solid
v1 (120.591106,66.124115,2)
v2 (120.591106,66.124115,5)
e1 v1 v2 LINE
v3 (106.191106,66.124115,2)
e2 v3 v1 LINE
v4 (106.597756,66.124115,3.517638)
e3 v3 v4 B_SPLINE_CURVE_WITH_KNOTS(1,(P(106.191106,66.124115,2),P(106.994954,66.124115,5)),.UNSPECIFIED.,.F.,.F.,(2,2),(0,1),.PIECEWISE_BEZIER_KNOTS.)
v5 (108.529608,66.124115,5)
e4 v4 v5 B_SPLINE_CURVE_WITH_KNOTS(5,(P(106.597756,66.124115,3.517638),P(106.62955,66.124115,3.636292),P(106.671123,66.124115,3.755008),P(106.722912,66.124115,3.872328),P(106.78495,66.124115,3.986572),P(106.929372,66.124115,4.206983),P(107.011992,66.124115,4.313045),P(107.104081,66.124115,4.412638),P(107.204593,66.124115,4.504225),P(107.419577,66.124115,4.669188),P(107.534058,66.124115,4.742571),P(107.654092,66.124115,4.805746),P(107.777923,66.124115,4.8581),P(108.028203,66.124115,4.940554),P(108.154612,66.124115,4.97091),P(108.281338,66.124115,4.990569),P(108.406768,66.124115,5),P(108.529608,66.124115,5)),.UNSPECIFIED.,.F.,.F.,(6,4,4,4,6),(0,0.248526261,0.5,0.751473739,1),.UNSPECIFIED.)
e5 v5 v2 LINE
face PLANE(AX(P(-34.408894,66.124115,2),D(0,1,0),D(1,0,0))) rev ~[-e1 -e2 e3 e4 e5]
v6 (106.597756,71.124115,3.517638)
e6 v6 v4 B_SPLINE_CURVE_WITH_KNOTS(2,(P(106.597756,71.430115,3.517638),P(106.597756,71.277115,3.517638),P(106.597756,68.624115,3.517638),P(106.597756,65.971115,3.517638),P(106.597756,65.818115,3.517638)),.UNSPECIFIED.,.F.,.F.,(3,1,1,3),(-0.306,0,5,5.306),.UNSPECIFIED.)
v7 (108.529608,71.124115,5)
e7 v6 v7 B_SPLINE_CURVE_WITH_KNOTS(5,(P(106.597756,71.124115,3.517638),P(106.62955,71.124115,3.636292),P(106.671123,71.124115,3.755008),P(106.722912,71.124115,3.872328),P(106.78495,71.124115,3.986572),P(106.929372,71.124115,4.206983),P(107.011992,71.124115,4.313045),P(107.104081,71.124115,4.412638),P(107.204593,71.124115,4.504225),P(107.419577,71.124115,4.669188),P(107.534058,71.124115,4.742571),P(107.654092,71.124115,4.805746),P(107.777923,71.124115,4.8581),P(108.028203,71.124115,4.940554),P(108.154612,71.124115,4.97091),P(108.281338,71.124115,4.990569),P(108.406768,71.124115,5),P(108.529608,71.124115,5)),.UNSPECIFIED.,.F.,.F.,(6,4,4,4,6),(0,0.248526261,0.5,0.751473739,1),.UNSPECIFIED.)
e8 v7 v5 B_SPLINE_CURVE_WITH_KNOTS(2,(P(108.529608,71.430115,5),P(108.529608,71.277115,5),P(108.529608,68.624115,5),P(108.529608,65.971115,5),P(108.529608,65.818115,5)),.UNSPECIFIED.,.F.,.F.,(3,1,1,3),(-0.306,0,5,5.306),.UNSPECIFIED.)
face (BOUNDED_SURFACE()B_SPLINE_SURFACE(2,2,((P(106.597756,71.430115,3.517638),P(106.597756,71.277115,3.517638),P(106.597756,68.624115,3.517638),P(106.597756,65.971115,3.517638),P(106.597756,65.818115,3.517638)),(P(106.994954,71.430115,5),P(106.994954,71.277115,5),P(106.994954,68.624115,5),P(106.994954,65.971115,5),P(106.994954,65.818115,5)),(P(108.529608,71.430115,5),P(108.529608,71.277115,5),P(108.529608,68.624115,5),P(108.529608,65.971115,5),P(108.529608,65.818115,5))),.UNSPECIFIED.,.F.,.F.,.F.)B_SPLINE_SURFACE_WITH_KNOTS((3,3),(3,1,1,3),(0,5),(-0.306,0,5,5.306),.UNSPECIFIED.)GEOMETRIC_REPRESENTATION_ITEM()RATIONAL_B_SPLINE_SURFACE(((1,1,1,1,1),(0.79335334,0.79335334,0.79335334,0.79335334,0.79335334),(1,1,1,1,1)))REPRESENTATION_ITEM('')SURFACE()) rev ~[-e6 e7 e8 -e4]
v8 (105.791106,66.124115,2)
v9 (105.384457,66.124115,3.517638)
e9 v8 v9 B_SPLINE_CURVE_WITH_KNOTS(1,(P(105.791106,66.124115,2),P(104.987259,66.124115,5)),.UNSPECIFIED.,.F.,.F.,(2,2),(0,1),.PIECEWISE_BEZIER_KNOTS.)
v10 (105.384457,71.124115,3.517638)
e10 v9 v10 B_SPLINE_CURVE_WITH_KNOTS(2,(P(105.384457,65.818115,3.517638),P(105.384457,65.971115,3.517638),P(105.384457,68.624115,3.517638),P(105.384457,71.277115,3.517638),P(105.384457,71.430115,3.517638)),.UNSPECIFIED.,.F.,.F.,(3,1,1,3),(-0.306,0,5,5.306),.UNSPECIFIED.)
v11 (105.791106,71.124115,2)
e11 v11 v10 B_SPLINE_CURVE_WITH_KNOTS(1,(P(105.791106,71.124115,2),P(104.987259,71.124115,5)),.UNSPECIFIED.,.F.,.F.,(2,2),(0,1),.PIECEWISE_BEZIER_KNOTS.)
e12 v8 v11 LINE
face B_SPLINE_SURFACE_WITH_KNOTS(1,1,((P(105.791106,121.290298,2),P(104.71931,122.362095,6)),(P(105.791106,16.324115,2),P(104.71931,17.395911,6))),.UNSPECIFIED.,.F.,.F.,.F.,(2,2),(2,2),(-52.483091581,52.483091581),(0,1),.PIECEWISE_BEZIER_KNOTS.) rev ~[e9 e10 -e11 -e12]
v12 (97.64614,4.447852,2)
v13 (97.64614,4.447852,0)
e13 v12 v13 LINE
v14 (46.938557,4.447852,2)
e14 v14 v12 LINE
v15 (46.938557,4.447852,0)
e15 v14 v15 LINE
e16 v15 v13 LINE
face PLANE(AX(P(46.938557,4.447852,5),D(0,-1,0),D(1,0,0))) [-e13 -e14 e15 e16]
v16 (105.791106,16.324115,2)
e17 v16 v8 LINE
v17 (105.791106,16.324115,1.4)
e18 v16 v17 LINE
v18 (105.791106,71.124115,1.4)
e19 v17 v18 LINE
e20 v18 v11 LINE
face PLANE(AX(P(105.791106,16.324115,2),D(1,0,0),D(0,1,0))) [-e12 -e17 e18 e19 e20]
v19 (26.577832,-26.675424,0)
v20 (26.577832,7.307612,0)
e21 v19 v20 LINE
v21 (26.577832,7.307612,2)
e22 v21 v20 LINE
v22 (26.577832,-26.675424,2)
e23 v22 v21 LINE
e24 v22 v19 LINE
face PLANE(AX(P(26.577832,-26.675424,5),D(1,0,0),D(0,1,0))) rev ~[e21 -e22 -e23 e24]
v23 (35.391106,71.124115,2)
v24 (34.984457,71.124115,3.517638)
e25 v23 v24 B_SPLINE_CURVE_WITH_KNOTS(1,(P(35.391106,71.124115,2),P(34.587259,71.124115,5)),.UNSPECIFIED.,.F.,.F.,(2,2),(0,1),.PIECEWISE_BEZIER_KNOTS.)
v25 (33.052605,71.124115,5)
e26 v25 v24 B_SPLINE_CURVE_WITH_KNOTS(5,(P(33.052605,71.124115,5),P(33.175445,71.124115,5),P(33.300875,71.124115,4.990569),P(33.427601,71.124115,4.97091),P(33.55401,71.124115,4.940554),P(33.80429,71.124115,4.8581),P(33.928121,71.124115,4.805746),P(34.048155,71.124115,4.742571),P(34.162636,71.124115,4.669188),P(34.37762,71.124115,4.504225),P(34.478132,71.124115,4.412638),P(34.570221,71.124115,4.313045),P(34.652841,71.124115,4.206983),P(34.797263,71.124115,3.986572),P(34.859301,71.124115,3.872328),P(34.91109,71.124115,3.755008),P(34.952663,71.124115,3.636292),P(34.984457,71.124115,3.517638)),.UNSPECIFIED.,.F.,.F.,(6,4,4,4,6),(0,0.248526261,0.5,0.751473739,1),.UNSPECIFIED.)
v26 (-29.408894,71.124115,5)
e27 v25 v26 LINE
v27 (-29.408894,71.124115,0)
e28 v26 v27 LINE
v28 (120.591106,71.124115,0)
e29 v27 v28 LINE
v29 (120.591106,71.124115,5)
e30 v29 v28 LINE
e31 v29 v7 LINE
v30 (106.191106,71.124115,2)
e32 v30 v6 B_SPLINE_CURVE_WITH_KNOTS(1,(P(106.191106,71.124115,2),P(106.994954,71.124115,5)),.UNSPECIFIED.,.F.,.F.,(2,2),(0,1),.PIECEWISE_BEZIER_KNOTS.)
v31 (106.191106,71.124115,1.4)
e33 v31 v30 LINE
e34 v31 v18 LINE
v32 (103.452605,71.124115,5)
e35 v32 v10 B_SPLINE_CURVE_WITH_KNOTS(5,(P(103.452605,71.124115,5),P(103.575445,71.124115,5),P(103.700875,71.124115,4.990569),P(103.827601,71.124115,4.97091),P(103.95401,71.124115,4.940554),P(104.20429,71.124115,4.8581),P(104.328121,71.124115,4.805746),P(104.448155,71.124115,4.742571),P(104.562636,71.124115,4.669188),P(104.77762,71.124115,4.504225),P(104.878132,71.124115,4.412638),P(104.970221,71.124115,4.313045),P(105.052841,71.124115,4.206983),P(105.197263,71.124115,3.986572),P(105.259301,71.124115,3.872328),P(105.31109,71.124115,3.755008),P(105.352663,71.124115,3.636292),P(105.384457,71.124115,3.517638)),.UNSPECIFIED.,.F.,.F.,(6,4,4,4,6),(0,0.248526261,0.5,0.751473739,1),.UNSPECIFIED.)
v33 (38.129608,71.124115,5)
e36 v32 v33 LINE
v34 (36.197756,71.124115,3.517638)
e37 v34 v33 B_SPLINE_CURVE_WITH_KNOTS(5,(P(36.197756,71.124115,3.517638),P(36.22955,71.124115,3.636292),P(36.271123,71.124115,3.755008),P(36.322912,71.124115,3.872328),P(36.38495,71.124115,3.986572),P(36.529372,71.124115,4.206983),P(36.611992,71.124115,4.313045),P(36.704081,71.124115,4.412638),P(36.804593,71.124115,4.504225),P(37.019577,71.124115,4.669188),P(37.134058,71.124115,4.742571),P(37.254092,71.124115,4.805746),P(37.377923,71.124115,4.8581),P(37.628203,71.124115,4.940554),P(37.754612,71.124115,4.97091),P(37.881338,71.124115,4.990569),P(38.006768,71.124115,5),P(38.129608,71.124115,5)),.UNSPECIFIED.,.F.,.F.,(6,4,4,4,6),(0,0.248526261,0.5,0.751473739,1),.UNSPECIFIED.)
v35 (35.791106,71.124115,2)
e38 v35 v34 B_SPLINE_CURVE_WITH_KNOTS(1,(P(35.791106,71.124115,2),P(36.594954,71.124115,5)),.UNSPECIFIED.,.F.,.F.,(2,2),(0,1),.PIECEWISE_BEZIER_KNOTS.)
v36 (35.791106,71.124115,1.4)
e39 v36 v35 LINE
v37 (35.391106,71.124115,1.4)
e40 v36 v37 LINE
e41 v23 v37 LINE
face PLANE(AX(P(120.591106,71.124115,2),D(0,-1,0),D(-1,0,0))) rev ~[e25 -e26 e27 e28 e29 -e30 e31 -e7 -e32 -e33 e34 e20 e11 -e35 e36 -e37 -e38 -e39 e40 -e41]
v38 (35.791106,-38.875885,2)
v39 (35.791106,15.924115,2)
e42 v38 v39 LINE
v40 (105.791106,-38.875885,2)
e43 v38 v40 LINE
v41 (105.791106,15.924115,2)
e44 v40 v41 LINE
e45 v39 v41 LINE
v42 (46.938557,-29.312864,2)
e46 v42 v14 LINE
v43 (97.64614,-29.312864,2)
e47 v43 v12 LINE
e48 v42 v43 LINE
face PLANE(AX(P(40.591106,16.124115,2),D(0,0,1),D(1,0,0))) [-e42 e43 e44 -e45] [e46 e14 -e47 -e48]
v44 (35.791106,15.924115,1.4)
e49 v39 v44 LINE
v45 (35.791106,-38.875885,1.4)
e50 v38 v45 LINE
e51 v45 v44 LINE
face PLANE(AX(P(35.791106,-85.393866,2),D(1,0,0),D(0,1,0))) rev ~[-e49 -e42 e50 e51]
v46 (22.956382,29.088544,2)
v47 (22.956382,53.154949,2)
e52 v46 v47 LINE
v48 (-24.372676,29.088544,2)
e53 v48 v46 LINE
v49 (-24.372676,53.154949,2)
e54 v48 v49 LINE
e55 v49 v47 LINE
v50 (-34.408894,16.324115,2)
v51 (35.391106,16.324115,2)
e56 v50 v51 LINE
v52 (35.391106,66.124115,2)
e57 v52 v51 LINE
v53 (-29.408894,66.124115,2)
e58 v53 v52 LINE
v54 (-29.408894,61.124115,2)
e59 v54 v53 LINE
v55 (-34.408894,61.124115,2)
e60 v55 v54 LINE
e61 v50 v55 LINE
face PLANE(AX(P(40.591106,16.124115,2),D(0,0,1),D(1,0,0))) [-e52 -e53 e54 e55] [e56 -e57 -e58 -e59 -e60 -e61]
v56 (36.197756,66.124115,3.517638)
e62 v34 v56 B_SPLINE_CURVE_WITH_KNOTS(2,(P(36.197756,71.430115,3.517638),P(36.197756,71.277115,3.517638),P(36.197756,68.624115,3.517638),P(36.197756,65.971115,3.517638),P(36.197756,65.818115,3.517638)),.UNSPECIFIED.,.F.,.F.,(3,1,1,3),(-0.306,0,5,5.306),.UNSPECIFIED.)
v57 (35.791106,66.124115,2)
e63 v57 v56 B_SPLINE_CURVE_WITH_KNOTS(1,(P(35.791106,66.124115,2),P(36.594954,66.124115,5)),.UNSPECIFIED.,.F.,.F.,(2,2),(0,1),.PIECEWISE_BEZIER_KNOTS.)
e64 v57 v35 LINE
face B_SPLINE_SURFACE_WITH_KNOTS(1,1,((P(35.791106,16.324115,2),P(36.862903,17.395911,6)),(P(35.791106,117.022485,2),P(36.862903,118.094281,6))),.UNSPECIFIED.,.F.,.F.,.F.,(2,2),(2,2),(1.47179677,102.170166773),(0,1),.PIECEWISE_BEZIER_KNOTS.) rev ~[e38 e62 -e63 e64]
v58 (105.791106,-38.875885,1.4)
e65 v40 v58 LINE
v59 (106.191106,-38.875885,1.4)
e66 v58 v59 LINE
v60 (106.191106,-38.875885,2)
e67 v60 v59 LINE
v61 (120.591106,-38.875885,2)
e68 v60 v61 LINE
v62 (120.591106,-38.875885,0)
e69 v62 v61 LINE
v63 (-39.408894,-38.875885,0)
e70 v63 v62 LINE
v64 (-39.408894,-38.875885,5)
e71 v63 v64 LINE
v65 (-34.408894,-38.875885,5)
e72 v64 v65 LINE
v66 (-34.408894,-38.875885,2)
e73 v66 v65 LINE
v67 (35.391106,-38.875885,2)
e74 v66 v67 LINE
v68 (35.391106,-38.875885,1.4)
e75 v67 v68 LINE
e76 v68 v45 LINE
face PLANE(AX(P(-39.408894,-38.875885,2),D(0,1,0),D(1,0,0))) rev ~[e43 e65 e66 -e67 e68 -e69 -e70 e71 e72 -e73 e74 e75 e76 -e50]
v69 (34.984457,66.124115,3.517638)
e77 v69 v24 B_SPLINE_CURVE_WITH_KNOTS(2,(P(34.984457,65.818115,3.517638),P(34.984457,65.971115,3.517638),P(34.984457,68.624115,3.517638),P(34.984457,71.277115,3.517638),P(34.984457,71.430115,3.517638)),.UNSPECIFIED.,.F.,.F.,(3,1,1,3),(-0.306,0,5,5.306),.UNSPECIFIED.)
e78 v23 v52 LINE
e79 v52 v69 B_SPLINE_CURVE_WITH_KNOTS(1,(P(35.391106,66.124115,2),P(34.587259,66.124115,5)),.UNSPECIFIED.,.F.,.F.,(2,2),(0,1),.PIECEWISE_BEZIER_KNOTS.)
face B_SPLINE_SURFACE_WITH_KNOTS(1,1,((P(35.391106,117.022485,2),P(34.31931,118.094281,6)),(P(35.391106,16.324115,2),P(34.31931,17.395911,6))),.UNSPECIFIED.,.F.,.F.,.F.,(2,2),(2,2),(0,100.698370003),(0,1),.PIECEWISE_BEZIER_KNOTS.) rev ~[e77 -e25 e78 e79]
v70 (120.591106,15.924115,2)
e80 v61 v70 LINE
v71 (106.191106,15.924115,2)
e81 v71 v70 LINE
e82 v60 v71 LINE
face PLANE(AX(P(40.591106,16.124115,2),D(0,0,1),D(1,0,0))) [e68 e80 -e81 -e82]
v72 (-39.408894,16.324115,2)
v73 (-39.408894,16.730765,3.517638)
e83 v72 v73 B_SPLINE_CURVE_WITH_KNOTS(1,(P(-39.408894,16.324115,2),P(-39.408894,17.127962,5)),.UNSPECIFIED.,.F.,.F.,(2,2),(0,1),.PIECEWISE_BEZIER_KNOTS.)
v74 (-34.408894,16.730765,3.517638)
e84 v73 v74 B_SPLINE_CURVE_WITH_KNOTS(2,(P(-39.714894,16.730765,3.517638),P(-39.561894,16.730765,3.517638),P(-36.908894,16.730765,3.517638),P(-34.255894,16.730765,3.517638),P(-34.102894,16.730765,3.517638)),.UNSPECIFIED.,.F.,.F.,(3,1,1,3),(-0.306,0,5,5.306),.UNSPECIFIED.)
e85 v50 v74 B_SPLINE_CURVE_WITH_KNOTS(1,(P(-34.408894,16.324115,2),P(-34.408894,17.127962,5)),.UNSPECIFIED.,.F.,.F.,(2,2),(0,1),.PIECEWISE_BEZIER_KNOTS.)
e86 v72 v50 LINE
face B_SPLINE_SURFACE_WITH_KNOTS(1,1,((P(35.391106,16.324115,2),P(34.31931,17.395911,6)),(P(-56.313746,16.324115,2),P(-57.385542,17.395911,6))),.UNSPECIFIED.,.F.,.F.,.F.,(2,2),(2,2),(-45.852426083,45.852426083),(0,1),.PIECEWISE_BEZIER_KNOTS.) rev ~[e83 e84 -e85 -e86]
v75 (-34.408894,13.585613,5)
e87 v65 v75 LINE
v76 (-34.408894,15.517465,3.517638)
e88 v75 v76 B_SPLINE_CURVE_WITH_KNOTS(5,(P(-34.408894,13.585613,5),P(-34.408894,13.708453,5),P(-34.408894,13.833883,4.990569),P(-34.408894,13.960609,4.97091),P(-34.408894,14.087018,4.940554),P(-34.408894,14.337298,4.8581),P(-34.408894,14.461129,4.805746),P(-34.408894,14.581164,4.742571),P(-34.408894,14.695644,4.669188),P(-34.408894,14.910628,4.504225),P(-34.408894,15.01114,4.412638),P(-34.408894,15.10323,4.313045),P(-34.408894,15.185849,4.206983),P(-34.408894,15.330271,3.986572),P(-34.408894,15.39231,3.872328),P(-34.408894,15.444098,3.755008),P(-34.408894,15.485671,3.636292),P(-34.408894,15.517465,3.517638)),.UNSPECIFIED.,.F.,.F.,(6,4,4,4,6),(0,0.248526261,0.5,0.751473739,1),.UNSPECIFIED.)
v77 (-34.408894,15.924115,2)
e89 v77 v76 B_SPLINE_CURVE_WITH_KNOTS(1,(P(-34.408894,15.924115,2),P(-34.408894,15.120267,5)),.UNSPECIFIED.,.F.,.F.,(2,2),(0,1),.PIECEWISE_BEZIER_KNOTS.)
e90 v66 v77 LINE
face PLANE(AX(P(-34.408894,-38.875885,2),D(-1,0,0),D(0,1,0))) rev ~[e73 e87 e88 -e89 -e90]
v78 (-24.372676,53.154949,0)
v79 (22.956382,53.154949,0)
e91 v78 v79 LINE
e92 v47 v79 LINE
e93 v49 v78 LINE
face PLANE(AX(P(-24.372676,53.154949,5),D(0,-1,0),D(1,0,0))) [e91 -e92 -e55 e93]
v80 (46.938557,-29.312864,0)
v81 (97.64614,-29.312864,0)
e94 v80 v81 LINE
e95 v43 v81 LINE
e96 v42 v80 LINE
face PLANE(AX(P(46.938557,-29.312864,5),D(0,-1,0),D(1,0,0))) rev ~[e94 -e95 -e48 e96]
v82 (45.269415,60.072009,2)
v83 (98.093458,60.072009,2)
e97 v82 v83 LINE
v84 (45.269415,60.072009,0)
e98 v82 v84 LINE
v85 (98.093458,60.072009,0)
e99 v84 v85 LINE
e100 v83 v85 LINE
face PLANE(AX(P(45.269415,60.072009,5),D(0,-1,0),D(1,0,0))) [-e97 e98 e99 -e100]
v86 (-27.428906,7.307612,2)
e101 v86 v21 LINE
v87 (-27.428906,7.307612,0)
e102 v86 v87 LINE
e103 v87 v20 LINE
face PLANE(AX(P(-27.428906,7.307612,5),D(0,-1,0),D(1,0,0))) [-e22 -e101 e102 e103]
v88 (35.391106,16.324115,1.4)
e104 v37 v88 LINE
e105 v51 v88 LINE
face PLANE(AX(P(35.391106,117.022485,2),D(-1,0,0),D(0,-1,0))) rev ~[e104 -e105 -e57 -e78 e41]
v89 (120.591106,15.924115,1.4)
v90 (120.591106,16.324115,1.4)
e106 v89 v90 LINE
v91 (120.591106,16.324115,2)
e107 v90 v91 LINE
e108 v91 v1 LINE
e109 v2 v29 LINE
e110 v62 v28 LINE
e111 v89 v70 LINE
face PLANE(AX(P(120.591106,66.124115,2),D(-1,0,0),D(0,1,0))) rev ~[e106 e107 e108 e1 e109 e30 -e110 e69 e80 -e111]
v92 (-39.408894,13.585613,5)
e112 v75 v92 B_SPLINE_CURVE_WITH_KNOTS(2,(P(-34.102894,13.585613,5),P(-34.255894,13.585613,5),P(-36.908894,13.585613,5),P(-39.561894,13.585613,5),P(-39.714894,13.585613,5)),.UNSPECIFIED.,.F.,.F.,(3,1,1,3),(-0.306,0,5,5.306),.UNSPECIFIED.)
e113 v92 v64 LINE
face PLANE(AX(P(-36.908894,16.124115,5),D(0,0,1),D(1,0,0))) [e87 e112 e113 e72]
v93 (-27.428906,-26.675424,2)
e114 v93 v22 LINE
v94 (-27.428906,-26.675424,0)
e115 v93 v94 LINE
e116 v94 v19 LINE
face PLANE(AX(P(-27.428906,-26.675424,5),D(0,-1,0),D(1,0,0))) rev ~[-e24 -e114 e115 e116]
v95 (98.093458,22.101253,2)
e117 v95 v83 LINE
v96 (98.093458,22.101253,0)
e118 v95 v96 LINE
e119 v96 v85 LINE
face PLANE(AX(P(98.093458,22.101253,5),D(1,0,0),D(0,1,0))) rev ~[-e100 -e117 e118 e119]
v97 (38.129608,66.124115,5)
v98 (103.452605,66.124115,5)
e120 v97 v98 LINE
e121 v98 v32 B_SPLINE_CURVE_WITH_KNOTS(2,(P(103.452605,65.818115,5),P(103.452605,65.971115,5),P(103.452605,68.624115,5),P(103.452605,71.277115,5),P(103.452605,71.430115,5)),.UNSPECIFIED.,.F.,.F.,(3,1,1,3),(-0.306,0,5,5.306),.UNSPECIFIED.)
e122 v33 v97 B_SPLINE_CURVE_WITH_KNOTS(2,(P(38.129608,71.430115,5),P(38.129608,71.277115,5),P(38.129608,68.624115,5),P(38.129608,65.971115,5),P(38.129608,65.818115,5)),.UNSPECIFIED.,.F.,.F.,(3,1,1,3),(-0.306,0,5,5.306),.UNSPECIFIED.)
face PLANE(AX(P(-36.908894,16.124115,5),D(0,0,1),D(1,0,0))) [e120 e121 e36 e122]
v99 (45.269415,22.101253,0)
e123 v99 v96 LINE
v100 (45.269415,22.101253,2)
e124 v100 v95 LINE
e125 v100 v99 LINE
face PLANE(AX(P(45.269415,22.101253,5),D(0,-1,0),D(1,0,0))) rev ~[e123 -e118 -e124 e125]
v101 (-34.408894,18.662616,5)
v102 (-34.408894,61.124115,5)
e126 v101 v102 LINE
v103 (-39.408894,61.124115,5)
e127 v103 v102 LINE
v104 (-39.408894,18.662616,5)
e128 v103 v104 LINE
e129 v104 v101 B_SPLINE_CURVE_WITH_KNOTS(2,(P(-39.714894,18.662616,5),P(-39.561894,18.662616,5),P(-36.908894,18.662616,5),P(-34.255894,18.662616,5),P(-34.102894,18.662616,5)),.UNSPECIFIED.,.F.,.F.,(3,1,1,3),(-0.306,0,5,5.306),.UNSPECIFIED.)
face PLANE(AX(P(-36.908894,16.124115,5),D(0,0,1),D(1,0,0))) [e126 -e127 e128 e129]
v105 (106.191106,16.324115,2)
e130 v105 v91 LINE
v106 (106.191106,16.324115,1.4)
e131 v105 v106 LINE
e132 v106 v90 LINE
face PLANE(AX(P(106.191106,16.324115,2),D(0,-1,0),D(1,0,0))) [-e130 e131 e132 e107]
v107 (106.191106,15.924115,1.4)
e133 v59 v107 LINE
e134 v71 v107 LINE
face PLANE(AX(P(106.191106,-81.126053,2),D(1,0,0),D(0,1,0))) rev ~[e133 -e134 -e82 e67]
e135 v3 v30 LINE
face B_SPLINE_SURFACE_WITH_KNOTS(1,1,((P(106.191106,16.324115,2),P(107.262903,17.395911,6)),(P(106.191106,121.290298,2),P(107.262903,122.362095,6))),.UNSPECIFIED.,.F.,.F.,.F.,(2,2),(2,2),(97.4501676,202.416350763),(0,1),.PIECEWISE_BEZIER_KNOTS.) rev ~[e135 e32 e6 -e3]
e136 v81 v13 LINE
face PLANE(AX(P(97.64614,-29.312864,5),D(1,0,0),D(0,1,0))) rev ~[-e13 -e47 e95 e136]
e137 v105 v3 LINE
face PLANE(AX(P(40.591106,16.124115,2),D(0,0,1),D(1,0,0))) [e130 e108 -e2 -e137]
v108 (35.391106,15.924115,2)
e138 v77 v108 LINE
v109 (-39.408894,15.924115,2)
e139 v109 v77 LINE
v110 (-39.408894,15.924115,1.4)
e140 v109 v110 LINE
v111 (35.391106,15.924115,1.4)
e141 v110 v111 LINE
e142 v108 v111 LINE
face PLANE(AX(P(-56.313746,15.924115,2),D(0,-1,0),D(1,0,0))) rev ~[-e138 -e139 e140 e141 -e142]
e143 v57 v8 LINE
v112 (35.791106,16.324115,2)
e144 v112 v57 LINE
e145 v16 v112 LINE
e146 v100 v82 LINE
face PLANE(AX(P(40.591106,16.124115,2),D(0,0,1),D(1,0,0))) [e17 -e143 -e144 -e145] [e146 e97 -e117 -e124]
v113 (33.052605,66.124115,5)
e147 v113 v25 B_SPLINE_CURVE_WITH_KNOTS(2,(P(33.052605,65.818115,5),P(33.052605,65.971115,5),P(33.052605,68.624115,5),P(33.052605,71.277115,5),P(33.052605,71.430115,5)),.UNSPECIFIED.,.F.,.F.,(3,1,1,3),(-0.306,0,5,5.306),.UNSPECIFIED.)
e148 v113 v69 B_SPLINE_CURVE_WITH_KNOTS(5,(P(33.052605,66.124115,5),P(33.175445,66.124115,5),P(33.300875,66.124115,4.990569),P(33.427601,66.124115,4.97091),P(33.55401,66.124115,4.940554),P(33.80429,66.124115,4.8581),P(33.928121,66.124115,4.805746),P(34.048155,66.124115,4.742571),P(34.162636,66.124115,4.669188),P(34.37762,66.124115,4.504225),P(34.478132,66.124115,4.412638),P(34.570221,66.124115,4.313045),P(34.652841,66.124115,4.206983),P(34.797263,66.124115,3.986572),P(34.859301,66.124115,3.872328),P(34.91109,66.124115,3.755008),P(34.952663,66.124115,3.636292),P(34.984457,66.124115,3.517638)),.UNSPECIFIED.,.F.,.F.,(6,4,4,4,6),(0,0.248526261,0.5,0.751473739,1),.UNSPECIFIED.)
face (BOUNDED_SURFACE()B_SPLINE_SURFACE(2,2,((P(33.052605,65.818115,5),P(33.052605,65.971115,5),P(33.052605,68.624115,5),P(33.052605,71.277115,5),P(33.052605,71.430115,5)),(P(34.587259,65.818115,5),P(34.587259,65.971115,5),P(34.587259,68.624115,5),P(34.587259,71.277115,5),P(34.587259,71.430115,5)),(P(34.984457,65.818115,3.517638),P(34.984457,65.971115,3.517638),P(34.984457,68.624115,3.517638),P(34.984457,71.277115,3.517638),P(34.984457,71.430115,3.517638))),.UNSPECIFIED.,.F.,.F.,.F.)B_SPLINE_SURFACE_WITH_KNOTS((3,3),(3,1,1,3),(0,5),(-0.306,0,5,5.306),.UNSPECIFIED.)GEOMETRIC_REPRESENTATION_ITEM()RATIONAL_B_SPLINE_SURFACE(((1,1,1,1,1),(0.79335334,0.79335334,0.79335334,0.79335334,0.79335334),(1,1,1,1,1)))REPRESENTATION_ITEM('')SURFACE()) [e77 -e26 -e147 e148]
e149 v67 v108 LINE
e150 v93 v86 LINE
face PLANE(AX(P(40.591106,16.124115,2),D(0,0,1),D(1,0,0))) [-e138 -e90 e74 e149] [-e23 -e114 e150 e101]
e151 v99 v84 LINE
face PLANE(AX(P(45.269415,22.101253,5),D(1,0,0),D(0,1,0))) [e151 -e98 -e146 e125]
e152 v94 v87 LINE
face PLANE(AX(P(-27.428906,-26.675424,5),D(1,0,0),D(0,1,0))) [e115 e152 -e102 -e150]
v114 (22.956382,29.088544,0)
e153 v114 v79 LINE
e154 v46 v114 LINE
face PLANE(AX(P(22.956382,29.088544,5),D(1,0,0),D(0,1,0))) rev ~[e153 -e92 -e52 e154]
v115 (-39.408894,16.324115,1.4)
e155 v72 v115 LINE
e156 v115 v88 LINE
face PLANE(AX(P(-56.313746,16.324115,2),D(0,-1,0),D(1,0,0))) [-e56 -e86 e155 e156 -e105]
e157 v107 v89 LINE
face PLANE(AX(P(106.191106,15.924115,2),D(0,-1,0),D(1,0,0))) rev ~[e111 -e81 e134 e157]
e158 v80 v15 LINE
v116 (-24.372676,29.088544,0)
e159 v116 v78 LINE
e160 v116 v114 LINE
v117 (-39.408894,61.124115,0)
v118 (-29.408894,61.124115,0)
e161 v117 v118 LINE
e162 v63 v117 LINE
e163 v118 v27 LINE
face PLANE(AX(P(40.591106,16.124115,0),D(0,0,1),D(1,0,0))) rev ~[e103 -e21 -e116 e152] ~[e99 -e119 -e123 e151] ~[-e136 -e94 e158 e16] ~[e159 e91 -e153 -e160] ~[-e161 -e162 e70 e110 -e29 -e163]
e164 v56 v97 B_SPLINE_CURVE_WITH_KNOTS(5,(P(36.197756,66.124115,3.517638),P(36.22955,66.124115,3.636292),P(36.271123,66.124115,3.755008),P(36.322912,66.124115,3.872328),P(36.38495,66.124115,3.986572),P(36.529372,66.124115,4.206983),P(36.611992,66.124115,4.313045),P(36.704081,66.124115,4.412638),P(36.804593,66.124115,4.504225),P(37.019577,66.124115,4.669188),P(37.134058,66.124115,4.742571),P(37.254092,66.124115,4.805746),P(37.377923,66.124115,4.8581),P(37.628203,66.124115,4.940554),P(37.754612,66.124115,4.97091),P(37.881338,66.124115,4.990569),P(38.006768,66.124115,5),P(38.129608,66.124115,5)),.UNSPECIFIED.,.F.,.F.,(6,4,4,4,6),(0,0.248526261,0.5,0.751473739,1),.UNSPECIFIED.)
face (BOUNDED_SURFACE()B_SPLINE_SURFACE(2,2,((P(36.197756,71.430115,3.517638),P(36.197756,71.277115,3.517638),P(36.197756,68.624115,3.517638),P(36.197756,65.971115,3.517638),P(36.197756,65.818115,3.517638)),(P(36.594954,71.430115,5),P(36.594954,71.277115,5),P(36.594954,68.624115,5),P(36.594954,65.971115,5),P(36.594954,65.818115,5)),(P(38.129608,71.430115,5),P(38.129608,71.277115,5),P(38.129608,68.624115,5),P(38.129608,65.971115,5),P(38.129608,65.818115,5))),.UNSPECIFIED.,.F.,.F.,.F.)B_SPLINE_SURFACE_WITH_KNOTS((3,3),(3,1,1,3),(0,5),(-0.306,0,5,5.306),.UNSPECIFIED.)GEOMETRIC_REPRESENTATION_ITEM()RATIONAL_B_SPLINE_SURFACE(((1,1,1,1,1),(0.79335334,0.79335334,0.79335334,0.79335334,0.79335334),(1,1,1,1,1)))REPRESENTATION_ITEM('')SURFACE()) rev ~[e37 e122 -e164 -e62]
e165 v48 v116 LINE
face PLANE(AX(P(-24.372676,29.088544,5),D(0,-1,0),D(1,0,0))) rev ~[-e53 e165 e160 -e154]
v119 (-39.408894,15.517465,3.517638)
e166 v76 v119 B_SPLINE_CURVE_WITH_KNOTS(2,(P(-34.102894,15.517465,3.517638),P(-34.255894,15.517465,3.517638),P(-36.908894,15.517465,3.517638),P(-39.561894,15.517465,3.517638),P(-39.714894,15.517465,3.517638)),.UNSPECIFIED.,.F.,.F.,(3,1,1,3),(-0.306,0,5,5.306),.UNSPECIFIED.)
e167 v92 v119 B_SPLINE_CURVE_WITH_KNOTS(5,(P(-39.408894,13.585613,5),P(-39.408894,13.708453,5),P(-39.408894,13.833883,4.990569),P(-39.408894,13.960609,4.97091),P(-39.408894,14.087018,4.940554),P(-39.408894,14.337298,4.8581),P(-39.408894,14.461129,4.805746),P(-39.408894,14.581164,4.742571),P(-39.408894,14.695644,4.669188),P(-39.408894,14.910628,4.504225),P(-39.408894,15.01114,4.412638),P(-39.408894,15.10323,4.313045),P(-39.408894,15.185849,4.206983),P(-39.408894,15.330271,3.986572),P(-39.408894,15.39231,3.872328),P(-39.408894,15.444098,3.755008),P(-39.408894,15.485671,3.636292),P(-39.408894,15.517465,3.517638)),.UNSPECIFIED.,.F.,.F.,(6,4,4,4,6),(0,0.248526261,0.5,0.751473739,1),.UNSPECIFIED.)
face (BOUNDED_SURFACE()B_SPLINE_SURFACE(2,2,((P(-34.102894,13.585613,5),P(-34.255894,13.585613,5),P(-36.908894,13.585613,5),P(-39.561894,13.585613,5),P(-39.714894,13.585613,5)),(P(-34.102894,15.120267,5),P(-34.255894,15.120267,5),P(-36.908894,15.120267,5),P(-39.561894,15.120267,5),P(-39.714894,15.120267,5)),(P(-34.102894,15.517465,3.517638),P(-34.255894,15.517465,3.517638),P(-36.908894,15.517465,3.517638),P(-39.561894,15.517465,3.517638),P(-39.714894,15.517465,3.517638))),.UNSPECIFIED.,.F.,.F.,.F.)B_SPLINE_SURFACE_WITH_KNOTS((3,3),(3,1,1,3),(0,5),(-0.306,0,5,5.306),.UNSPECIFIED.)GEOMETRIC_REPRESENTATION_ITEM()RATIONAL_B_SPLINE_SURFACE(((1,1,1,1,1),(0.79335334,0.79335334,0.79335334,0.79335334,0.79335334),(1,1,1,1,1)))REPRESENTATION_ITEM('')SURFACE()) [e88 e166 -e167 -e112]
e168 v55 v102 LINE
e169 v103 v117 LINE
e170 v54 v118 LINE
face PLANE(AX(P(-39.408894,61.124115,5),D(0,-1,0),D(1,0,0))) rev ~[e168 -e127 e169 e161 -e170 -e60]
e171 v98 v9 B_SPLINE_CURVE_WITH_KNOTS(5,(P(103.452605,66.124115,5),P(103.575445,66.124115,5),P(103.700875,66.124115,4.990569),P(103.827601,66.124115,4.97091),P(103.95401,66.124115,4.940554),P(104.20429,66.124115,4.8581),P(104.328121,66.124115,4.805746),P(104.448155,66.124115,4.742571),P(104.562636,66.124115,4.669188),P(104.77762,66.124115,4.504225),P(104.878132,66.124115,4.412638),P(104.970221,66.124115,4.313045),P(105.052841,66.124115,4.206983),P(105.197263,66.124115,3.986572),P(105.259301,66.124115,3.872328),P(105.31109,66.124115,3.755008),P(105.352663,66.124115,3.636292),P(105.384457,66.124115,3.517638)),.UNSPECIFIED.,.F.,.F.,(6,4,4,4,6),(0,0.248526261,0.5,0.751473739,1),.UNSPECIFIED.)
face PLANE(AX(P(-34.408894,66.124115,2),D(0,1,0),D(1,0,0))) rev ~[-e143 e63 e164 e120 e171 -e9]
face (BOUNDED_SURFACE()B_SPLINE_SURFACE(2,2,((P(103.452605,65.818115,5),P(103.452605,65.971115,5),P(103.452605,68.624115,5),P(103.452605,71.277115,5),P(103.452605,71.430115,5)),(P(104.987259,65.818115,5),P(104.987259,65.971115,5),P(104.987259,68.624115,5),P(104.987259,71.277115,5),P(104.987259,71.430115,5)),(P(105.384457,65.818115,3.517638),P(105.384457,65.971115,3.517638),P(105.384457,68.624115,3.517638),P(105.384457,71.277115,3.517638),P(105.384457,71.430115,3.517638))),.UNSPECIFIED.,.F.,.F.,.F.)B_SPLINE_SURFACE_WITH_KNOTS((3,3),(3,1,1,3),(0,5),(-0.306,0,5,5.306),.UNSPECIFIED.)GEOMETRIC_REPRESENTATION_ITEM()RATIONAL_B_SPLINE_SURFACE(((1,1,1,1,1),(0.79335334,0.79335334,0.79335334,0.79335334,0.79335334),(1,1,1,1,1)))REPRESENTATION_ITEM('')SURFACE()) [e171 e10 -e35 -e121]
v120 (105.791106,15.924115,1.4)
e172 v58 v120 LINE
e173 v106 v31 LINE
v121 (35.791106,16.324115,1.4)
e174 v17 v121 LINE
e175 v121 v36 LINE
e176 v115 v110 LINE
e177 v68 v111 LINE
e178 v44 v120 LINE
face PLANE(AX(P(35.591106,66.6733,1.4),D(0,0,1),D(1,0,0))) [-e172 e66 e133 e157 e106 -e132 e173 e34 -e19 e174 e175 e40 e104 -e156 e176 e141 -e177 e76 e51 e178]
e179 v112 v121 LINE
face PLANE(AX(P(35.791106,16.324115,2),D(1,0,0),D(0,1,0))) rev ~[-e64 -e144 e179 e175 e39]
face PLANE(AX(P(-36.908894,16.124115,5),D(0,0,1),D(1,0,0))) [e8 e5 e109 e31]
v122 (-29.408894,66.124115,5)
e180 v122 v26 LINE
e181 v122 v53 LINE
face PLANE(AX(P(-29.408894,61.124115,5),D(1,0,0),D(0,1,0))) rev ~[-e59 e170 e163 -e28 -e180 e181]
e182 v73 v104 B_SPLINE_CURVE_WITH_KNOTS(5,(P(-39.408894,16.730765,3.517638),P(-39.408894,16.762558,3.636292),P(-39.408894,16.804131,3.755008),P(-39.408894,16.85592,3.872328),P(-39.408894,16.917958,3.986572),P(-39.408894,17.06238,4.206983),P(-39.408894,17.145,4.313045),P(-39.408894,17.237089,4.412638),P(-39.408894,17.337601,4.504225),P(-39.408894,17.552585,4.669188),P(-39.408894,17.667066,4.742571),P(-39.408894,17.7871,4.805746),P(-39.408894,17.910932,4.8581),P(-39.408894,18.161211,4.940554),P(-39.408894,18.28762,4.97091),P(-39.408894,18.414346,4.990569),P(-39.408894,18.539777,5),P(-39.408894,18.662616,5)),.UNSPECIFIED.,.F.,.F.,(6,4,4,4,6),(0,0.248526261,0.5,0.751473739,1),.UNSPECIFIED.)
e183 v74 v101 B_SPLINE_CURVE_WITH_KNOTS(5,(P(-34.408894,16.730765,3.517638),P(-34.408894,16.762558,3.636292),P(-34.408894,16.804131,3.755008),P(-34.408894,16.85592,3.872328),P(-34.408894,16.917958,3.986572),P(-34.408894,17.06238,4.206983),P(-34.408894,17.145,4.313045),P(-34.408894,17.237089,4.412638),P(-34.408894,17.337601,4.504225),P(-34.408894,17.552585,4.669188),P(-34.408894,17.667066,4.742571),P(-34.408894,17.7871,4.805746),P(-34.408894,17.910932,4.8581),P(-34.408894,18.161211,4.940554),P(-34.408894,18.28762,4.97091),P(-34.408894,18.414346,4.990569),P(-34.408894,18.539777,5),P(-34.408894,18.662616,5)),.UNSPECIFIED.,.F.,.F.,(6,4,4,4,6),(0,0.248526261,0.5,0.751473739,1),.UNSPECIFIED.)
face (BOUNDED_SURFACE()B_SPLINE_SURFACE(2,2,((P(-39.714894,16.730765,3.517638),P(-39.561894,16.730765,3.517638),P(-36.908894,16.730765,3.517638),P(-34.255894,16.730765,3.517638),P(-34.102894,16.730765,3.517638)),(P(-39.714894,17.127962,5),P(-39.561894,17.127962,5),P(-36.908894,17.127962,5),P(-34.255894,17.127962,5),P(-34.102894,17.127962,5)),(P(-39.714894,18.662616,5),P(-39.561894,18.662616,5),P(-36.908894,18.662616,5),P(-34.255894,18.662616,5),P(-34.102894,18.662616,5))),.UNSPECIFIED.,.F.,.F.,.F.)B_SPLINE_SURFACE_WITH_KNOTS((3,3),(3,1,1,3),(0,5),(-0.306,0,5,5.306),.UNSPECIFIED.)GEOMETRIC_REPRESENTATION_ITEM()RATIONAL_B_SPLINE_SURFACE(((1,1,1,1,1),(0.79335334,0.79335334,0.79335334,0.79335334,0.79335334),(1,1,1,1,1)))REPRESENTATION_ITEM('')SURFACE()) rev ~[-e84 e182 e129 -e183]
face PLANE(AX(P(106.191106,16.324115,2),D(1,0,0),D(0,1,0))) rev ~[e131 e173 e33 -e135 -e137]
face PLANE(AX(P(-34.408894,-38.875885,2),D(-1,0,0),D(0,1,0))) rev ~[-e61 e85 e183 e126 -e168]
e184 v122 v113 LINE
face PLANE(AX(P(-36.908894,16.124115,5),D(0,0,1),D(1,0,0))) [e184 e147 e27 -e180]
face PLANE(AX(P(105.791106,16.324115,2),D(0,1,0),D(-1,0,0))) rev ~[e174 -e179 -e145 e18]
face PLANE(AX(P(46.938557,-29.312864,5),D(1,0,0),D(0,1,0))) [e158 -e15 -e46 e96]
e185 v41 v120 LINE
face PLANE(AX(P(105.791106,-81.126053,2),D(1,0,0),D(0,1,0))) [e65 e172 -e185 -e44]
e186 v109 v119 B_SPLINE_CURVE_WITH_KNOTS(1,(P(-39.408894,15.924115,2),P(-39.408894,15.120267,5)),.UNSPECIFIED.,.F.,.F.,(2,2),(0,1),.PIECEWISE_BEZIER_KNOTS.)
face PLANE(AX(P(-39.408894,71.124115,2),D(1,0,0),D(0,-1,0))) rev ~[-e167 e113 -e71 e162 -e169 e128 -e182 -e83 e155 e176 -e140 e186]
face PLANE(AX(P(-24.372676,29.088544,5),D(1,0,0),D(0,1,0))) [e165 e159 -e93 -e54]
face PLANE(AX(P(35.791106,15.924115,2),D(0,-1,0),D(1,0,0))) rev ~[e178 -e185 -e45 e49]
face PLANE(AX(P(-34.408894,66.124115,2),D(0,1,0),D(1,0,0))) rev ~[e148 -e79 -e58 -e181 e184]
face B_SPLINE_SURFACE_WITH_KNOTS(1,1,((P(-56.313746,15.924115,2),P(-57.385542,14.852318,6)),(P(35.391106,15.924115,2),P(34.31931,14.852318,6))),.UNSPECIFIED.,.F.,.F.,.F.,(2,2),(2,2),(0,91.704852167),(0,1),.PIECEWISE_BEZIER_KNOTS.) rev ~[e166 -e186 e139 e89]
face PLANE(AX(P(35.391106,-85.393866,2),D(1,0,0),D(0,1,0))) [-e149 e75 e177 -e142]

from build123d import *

# Parameters (mm, degrees)
F0_W     = 160
F0_H     = 110
F1_DEPTH = 2
F2_W     = 155
F2_H     = 5
F3_DEPTH = 3
F4_W     = 0.4
F4_H     = 100.6983700028
F4_H_2   = 0.4
F4_W_2   = 91.7048521668
F4_W_3   = 70
F4_H_3   = 101.3179807599
F4_H_4   = 104.9661831624
F4_H_5   = 97.0501676003
F4_W_4   = 42.9082732886
F5_DEPTH = 0.6
F6_DEPTH = 4
F6_TAPER = -15
F7_R     = 2
F8_W     = 10
F8_H     = 10
F8_W_2   = 47.3290588707
F8_H_2   = 24.0664053708
F8_W_3   = 54.0067385882
F8_H_3   = 33.9830359444
F8_W_4   = 52.8240427375
F8_H_4   = 37.9707552493
F8_W_5   = 50.7075823843
F8_H_5   = 33.7607157417
F9_DEPTH = 25


with BuildPart() as f1:
    # F0 (on Top) → F1 (new body)
    with BuildSketch(Plane.XY):
        with Locations((40.5911064893, 16.1241146261)):
            Rectangle(F0_W, F0_H)
    extrude(amount=F1_DEPTH)

    # F2 (on face) → F3 (join)
    with BuildSketch(Plane.XY.offset(2)):
        Polygon((-34.4088935107, 71.1241146261), (-39.4088935107, 71.1241146261), (-39.4088935107, -38.8758853739), (-34.4088935107, -38.8758853739), (-34.4088935107, 66.1241146261), align=None)
        with Locations((43.0911064893, 68.6241146261)):
            Rectangle(F2_W, F2_H)
    extrude(amount=F3_DEPTH)

    # F4 (on face) → F5 (cut)
    with BuildSketch(Plane.XY.offset(2)):
        with Locations((35.5911064893, 66.6732996275)):
            Rectangle(F4_W, F4_H)
        with Locations((35.5911064893, 16.1241146261)):
            Rectangle(F4_W, F4_H_2)
        with Locations((-10.4613195941, 16.1241146261)):
            Rectangle(F4_W_2, F4_H_2)
        with Locations((70.7911064893, 16.1241146261)):
            Rectangle(F4_W_3, F4_H_2)
        with Locations((35.5911064893, -34.7348757538)):
            Rectangle(F4_W, F4_H_3)
        with Locations((105.9911064893, 16.1241146261)):
            Rectangle(F4_W, F4_H_2)
        with Locations((105.9911064893, 68.8072062073)):
            Rectangle(F4_W, F4_H_4)
        with Locations((105.9911064893, -32.600969174)):
            Rectangle(F4_W, F4_H_5)
        with Locations((127.6452431336, 16.1241146261)):
            Rectangle(F4_W_4, F4_H_2)
    extrude(amount=-F5_DEPTH, mode=Mode.SUBTRACT)

    # F4 (on face) → F6 (cut)
    with BuildSketch(Plane.XY.offset(2)):
        with Locations((35.5911064893, 66.6732996275)):
            Rectangle(F4_W, F4_H)
        with Locations((35.5911064893, 16.1241146261)):
            Rectangle(F4_W, F4_H_2)
        with Locations((-10.4613195941, 16.1241146261)):
            Rectangle(F4_W_2, F4_H_2)
        with Locations((70.7911064893, 16.1241146261)):
            Rectangle(F4_W_3, F4_H_2)
        with Locations((35.5911064893, -34.7348757538)):
            Rectangle(F4_W, F4_H_3)
        with Locations((105.9911064893, 16.1241146261)):
            Rectangle(F4_W, F4_H_2)
        with Locations((105.9911064893, 68.8072062073)):
            Rectangle(F4_W, F4_H_4)
        with Locations((105.9911064893, -32.600969174)):
            Rectangle(F4_W, F4_H_5)
        with Locations((127.6452431336, 16.1241146261)):
            Rectangle(F4_W_4, F4_H_2)
    extrude(amount=F6_DEPTH, taper=F6_TAPER, mode=Mode.SUBTRACT)

    # F7
    f7_edges = [f1.edges().sort_by_distance(p)[0] for p in [
        (-36.908894, 17.127962, 5),
        (-36.908894, 15.120267, 5),
        (34.587259, 68.624115, 5),
        (36.594954, 68.624115, 5),
        (106.994954, 68.624115, 5),
        (104.987259, 68.624115, 5),
    ]]
    fillet(f7_edges, radius=F7_R)

    # F8 (on face) → F9 (cut)
    with BuildSketch(Plane.XY.offset(5)):
        with Locations((-34.4088935107, 66.1241146261)):
            Rectangle(F8_W, F8_H)
        with Locations((-0.7081469521, 41.1217464134)):
            Rectangle(F8_W_2, F8_H_2)
        with Locations((-0.4255371168, -9.683905635)):
            Rectangle(F8_W_3, F8_H_3)
        with Locations((71.6814361513, 41.0866308957)):
            Rectangle(F8_W_4, F8_H_4)
        with Locations((72.29234837, -12.4325060751)):
            Rectangle(F8_W_5, F8_H_5)
    extrude(amount=-F9_DEPTH, mode=Mode.SUBTRACT)


solid = f1.part
